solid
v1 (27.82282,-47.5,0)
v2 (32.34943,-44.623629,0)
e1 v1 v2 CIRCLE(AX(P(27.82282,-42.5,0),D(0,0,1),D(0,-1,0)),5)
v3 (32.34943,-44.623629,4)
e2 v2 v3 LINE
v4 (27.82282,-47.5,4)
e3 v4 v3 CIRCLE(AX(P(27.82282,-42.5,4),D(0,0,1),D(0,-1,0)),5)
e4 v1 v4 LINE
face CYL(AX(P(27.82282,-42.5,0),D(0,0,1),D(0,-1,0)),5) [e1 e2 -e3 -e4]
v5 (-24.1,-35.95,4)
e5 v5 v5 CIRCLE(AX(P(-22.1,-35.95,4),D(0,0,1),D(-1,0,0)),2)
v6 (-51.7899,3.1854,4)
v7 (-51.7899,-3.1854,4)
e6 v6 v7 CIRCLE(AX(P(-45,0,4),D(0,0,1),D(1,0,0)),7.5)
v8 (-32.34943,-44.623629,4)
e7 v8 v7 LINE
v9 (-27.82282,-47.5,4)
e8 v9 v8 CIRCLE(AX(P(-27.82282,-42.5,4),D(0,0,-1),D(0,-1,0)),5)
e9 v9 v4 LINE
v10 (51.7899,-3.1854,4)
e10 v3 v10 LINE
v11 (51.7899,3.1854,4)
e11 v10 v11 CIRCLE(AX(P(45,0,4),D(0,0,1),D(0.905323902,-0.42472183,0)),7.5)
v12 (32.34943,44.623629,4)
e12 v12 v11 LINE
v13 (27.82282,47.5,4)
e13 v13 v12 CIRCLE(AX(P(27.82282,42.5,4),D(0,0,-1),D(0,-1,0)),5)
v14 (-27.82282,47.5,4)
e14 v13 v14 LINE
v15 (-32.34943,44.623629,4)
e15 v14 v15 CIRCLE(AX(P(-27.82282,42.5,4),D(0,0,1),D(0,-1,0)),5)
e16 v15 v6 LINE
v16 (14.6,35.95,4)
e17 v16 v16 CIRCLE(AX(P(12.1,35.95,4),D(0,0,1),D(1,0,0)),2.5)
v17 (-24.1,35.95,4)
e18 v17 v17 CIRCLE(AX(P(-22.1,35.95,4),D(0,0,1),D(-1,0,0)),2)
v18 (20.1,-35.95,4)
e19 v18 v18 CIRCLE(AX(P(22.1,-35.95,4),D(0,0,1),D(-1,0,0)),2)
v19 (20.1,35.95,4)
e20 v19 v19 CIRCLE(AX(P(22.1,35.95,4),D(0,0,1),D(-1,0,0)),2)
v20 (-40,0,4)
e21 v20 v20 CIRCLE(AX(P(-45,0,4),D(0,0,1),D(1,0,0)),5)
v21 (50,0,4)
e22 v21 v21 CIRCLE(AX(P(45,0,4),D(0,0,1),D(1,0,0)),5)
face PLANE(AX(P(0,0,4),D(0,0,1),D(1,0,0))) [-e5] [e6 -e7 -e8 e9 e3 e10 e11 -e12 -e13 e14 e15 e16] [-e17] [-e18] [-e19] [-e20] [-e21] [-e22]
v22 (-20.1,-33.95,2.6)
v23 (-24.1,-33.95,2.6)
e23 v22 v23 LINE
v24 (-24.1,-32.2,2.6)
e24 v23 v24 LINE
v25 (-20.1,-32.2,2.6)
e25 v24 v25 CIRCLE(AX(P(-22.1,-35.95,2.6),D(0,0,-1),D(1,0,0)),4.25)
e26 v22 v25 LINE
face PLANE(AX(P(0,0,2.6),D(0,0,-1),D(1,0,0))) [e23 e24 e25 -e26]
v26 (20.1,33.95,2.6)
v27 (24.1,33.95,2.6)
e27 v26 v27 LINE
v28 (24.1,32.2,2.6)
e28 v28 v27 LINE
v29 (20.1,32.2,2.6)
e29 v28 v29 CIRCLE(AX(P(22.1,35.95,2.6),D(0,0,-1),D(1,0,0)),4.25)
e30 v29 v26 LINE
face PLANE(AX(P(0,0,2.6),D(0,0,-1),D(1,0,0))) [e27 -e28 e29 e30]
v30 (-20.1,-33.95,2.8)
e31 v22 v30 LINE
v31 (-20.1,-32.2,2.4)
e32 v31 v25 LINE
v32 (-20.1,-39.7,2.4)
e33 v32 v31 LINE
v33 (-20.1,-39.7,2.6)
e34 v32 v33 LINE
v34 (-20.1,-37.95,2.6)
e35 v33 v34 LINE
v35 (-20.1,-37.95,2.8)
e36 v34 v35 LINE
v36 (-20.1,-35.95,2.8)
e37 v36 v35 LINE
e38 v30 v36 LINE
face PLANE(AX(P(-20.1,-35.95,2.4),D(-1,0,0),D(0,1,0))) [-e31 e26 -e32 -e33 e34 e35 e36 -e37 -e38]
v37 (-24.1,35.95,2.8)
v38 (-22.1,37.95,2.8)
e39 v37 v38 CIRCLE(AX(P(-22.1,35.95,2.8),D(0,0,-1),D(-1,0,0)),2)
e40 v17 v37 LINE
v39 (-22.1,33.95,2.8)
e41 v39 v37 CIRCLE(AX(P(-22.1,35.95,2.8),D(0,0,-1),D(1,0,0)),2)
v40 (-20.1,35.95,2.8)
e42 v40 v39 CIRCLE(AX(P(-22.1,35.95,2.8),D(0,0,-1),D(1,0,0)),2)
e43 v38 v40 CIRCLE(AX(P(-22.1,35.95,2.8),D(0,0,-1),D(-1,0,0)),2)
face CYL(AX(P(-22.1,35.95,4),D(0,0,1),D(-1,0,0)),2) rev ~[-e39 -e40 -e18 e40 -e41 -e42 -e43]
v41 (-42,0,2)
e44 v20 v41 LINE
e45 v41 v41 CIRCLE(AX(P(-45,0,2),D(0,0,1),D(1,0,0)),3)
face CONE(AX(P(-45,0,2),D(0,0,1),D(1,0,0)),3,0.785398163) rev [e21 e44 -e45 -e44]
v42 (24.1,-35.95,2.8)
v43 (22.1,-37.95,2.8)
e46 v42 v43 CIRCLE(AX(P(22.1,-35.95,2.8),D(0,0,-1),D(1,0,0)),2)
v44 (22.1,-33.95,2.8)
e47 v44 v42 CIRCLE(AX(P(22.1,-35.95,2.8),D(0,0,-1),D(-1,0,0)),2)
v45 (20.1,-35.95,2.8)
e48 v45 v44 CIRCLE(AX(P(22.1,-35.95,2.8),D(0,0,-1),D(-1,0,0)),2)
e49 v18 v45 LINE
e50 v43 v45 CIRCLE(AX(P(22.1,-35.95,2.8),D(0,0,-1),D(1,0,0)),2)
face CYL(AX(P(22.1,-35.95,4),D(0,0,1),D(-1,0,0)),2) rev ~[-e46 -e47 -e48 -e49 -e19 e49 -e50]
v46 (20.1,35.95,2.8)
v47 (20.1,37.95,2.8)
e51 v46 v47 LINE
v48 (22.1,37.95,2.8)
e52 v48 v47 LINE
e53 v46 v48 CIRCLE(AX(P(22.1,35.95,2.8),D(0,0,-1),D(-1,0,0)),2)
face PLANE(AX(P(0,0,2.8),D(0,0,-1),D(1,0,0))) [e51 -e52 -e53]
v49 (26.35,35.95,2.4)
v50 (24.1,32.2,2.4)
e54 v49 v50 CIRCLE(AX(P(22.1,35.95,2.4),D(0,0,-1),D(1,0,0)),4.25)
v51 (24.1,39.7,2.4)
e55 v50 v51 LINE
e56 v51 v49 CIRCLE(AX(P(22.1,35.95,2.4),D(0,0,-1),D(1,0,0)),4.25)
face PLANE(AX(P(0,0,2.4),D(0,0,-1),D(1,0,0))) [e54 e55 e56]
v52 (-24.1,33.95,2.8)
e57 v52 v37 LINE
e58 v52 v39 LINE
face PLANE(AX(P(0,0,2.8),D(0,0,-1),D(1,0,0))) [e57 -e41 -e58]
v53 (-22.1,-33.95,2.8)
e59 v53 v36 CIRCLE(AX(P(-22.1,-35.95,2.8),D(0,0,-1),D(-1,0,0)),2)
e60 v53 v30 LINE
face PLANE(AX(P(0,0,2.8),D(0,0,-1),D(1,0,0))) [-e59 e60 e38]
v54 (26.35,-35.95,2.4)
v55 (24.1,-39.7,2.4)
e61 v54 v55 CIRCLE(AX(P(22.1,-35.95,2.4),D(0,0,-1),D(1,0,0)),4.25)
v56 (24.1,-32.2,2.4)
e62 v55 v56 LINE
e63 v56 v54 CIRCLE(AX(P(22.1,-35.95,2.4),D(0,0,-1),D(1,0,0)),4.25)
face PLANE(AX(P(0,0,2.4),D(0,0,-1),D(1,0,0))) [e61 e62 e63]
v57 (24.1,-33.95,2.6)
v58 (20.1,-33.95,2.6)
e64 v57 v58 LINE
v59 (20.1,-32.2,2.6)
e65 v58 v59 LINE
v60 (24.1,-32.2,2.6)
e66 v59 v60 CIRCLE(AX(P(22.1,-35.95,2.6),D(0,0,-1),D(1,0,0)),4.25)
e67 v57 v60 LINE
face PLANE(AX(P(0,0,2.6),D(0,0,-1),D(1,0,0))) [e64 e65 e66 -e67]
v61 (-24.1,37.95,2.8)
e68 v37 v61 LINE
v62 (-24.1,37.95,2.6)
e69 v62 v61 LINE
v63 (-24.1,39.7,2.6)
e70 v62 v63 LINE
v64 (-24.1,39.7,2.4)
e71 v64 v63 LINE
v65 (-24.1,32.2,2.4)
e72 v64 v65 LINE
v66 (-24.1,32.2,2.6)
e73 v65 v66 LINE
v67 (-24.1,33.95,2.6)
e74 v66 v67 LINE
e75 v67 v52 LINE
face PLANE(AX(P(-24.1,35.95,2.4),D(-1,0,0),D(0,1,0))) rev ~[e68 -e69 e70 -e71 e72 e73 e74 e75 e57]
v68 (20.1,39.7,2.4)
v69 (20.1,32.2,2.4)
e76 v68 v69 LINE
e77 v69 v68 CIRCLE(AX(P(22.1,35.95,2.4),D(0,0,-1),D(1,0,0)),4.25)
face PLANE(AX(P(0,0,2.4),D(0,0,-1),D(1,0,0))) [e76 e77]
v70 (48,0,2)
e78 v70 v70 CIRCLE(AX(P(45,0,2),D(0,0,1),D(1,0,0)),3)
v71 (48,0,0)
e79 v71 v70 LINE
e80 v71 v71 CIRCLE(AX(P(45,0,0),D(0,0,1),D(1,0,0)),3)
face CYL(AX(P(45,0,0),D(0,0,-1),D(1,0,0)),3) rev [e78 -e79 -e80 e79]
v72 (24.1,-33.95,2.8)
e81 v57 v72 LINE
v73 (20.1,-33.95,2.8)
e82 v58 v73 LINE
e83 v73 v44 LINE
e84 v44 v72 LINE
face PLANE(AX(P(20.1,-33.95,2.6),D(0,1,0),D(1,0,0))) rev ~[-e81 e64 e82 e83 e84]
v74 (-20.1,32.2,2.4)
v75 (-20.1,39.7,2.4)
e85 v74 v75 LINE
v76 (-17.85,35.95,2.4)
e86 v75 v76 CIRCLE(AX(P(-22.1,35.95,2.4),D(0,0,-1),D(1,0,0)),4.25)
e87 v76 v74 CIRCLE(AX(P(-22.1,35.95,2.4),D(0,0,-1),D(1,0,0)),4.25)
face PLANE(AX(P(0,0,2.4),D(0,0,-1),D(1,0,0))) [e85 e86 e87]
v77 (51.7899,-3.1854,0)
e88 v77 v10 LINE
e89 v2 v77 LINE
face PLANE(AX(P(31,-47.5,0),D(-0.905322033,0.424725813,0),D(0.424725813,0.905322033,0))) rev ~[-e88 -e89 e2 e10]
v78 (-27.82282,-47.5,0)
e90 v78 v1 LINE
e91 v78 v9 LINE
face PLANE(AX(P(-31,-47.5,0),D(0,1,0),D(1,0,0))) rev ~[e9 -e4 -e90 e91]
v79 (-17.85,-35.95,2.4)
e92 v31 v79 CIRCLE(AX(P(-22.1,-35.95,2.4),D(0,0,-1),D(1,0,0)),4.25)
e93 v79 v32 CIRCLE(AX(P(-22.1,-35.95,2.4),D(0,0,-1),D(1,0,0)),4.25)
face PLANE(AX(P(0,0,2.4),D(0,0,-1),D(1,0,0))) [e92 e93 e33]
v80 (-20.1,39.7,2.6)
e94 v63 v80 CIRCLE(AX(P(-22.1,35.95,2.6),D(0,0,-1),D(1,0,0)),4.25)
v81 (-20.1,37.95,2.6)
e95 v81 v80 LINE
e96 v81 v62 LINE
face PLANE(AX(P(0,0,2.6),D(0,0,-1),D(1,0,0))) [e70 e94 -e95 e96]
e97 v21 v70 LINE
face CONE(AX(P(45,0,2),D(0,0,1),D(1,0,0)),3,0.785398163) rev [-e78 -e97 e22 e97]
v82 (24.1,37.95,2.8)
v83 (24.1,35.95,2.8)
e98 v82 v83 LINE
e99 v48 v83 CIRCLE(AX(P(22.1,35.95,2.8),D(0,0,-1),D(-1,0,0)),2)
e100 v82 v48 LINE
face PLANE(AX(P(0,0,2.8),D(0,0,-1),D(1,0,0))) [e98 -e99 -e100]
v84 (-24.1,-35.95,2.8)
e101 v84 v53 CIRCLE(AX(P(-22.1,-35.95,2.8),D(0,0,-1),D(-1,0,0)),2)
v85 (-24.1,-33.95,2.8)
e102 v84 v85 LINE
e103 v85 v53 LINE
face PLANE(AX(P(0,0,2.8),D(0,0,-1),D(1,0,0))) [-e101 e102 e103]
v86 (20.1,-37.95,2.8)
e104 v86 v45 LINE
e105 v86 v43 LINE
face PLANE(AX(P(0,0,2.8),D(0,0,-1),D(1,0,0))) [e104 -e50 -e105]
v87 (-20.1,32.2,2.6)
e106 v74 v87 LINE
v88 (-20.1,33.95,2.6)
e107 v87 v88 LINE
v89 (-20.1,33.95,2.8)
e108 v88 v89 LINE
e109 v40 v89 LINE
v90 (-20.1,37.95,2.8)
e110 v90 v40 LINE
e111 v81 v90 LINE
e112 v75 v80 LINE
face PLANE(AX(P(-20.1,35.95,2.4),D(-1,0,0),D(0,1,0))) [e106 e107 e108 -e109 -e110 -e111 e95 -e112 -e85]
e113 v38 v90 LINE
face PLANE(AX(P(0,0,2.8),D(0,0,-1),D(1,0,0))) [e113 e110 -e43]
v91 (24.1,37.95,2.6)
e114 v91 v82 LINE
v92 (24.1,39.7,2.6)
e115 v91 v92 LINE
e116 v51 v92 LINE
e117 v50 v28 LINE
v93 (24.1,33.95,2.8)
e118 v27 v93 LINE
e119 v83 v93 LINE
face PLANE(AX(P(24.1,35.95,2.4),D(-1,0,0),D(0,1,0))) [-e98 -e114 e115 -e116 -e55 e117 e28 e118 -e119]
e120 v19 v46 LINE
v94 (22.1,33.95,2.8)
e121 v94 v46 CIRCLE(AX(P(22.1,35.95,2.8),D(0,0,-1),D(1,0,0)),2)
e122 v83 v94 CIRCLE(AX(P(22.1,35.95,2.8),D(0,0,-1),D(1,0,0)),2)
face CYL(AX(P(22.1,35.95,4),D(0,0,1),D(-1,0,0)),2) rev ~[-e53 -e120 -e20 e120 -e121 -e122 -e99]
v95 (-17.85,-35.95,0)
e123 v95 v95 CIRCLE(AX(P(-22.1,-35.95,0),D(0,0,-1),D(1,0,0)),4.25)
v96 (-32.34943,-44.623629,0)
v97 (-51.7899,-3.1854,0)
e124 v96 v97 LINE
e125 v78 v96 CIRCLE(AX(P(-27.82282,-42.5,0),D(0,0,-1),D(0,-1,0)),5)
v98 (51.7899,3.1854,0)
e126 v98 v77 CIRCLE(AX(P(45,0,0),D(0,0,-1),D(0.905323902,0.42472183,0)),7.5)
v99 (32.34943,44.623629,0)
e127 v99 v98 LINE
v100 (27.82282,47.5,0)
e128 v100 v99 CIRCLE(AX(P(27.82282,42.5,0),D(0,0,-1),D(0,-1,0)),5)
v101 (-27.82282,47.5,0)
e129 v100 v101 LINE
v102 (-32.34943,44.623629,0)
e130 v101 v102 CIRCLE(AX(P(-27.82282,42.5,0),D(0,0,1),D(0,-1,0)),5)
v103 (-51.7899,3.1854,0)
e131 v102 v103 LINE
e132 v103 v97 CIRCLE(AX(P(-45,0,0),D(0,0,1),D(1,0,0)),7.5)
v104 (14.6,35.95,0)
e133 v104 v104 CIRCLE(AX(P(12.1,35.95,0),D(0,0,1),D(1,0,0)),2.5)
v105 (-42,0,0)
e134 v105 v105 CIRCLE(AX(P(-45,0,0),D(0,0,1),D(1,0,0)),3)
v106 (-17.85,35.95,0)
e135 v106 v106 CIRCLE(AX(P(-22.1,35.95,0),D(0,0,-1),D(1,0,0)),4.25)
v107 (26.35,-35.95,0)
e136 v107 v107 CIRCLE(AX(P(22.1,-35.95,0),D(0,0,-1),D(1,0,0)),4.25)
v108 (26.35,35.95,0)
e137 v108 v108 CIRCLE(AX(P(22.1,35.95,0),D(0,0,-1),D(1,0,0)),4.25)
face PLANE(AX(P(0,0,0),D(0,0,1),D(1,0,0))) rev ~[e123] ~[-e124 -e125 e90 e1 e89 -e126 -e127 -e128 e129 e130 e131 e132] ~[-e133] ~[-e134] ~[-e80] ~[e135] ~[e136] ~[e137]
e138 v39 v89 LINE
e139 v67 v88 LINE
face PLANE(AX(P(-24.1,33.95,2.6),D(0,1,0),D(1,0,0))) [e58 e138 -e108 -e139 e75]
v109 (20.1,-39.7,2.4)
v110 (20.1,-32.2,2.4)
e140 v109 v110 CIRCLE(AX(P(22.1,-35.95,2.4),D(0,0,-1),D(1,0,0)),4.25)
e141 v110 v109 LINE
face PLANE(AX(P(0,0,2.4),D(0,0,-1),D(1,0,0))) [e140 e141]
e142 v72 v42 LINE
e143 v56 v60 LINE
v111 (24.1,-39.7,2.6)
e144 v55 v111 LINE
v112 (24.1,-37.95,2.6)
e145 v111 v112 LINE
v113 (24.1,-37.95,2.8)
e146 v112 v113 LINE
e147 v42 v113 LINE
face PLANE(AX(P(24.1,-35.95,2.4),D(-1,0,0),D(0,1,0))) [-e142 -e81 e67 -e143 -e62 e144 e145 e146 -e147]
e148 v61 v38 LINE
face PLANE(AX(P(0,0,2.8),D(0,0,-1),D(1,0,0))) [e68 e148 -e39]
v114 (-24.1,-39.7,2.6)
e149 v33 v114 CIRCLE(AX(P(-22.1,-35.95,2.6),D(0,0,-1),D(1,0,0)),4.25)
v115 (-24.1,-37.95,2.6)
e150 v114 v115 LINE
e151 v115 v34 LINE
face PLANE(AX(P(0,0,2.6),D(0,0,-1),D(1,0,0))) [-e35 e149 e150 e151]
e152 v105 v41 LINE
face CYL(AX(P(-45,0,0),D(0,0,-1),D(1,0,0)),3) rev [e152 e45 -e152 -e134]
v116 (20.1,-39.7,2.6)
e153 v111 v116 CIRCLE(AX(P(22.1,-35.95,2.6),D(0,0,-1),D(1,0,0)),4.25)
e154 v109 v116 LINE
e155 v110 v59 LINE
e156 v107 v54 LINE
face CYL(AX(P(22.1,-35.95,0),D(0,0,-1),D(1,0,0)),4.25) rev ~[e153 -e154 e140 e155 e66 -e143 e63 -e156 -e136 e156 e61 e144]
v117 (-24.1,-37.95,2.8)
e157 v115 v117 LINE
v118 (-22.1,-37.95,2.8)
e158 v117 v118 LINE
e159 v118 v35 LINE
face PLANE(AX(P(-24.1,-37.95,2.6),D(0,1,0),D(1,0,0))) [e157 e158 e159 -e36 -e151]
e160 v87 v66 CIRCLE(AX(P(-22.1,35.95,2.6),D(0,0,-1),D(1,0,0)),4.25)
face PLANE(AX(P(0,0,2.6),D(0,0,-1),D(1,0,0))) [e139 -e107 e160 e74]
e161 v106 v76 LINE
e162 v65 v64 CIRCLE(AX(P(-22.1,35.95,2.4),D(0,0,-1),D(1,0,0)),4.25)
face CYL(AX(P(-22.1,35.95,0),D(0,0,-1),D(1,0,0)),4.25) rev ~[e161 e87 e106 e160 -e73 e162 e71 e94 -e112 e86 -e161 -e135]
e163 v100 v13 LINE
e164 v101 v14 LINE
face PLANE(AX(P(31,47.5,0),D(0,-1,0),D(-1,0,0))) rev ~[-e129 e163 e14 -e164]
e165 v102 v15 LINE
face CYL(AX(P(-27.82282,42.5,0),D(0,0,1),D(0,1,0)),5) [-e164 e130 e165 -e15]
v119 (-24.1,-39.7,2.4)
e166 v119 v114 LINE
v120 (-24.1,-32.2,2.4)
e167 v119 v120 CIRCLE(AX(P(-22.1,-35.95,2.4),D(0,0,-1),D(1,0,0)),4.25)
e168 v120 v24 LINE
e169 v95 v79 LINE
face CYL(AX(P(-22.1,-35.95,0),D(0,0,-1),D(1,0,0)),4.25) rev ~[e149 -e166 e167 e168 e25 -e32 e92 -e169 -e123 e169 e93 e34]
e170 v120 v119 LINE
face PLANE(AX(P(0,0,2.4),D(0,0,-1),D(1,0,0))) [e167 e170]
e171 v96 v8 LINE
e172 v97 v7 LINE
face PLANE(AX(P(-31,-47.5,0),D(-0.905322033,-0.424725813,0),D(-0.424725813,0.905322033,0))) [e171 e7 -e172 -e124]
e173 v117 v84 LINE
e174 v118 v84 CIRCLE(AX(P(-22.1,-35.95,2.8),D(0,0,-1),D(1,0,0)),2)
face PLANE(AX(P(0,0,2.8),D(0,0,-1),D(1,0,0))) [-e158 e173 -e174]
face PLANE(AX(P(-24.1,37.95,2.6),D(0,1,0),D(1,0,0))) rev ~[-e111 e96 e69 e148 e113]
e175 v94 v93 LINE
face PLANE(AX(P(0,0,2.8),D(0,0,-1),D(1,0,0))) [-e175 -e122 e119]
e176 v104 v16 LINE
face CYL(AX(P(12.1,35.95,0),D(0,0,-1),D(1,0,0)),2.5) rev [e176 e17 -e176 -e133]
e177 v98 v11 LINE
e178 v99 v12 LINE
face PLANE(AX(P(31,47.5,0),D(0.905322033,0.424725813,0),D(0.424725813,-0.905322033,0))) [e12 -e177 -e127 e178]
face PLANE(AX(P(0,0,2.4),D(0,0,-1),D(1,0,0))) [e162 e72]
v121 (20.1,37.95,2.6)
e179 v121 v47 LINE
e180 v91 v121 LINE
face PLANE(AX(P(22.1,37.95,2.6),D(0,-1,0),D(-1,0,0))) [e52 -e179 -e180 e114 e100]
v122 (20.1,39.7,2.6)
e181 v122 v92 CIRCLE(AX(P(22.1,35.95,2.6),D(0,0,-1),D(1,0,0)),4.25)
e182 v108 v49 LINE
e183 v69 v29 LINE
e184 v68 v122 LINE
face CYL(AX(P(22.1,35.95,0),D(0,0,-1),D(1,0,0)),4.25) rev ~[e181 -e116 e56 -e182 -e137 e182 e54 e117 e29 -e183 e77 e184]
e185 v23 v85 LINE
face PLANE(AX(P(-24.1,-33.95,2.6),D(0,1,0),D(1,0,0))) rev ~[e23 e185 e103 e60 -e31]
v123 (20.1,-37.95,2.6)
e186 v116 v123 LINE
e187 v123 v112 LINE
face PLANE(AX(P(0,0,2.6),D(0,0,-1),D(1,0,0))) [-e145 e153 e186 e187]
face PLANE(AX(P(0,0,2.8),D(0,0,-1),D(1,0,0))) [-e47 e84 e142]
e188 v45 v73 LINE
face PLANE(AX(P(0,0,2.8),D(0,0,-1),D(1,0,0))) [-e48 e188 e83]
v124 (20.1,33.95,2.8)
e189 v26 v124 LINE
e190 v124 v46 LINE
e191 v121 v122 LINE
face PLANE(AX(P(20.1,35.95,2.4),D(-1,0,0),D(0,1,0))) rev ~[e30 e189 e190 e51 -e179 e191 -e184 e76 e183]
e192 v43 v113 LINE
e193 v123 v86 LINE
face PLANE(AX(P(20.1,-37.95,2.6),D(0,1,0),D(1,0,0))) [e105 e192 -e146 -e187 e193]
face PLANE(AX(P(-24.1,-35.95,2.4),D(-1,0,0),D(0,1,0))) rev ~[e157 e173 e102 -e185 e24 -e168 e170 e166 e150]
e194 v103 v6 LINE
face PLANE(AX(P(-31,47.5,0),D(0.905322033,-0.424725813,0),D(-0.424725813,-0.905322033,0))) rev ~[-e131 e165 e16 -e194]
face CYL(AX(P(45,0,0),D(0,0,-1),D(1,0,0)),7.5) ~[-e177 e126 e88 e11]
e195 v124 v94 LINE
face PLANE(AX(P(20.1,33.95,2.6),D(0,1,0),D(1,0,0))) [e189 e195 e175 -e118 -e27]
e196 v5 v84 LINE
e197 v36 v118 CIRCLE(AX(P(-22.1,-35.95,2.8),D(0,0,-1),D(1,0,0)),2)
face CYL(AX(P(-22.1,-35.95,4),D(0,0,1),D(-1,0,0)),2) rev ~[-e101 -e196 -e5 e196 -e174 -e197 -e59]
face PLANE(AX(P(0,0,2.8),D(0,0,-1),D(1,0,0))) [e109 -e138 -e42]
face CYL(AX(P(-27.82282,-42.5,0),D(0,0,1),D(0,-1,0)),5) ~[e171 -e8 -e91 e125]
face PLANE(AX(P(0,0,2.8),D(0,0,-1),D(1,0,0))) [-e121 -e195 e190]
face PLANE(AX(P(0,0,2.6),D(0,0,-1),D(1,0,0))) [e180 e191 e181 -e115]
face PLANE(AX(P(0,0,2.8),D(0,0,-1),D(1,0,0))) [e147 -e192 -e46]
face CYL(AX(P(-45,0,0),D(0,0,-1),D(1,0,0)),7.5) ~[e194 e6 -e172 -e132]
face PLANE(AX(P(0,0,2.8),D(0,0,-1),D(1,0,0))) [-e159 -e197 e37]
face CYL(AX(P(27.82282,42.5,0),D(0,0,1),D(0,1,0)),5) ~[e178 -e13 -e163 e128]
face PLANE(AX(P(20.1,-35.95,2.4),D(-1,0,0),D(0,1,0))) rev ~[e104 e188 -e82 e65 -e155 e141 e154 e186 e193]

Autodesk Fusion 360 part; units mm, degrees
sketch "Sketch1" plane through (0, 0, 0) normal (0, 0, 1) x (1, 0, 0)
  line L0 (22.1, 35.95) -> (-22.1, 35.95) construction
  line L1 (-22.1, 35.95) -> (-22.1, -35.95) construction
  line L2 (-22.1, -35.95) -> (22.1, -35.95) construction
  line L3 (22.1, -35.95) -> (22.1, 35.95) construction
  line L4 (22.1, 35.95) -> (-22.1, -35.95) construction
  line L5 (-22.1, 35.95) -> (22.1, -35.95) construction
  line L6 (23.8, 37.65) -> (-23.8, 37.65) construction
  line L7 (-23.8, 37.65) -> (-23.8, -37.65) construction
  line L8 (-23.8, -37.65) -> (23.8, -37.65) construction
  line L9 (23.8, -37.65) -> (23.8, 37.65) construction
  line L10 (23.8, 37.65) -> (-23.8, -37.65) construction
  line L11 (-23.8, 37.65) -> (23.8, -37.65) construction
  circle A0 centre (-22.1, 35.95) radius 1.7
  circle A1 centre (22.1, 35.95) radius 1.7
  circle A2 centre (-22.1, -35.95) radius 1.7
  circle A3 centre (22.1, -35.95) radius 1.7
  line L12 (-23.8, -34.25) -> (23.8, -34.25) construction
  line L13 (-20.4, -37.65) -> (-20.4, 37.65) construction
  line L14 (-23.8, 34.25) -> (23.8, 34.25) construction
  line L15 (20.4, 37.65) -> (20.4, -37.65) construction
  line L16 (31, 47.5) -> (-31, 47.5)
  line L17 (-31, 47.5) -> (-31, -47.5)
  line L18 (-31, -47.5) -> (31, -47.5)
  line L19 (31, -47.5) -> (31, 47.5)
  line L20 (31, 47.5) -> (-31, -47.5) construction
  line L21 (-31, 47.5) -> (31, -47.5) construction
  circle A4 centre (-45, 0) radius 3
  circle A5 centre (45, 0) radius 3
  circle A6 centre (-45, 0) radius 7.5
  circle A7 centre (45, 0) radius 7.5
  line L22 (-31, 47.5) -> (-51.7899, 3.1854)
  line L23 (-31, -47.5) -> (-51.7899, -3.1854)
  line L24 (31, -47.5) -> (51.7899, -3.1854)
  line L25 (31, 47.5) -> (51.7899, 3.1854)
  line L26 (45, 0) -> (0, 0) construction
  line L27 (0, 0) -> (-45, 0) construction
  circle A8 centre (12.1, 35.95) radius 2.5
  dimension "d1" = 75.3
  dimension "d2" = 68.5
  dimension "d3" = 40.8
  dimension "d4" = 47.6
  dimension "d5" = 95
  dimension "d6" = 62
  dimension "d7" = 6
  dimension "d8" = 6
  dimension "d9" = 15
  dimension "d10" = 15
  dimension "d11" = 45
  dimension "d12" = 45
  dimension "d13" = 10
  dimension "d14" = 5
extrude "Extrude1" add sketch "Sketch1" along normal blind 4
fillet "Fillet1" radius 5 4 edges at (31, 47.5, 2) (-31, 47.5, 2) (31, -47.5, 2) (-31, -47.5, 2)
sketch "Sketch2" plane through (0, 0, 0) normal (0, 0, -1) x (1, 0, 0)
  circle A0 centre (45, 0) radius 3
  circle A1 centre (-22.1, 35.95) radius 1.7
  circle A2 centre (22.1, 35.95) radius 1.7
  circle A3 centre (-22.1, -35.95) radius 1.7
  circle A4 centre (-45, 0) radius 3
  circle A5 centre (22.1, -35.95) radius 1.7
  circle A6 centre (12.1, -35.95) radius 2.5
  arc A7 (-27.8228, 47.5) -> (-32.3494, 44.6236) centre (-27.8228, 42.5) ccw
  line L0 (-32.3494, 44.6236) -> (-51.7899, 3.1854)
  arc A8 (-51.7899, 3.1854) -> (-51.7899, -3.1854) centre (-45, 0) ccw
  line L1 (-51.7899, -3.1854) -> (-32.3494, -44.6236)
  arc A9 (-32.3494, -44.6236) -> (-27.8228, -47.5) centre (-27.8228, -42.5) ccw
  line L2 (-27.8228, -47.5) -> (27.8228, -47.5)
  arc A10 (27.8228, -47.5) -> (32.3494, -44.6236) centre (27.8228, -42.5) ccw
  line L3 (32.3494, -44.6236) -> (51.7899, -3.1854)
  arc A11 (51.7899, -3.1854) -> (51.7899, 3.1854) centre (45, 0) ccw
  line L4 (51.7899, 3.1854) -> (32.3494, 44.6236)
  arc A12 (32.3494, 44.6236) -> (27.8228, 47.5) centre (27.8228, 42.5) ccw
  line L5 (27.8228, 47.5) -> (-27.8228, 47.5)
  circle A13 centre (22.1, -35.95) radius 4.25
  circle A14 centre (-22.1, -35.95) radius 4.25
  circle A15 centre (-22.1, 35.95) radius 4.25
  circle A16 centre (22.1, 35.95) radius 4.25
  dimension "d19" = 8.5
  dimension "d20" = 8.5
  dimension "d21" = 8.5
  dimension "d22" = 8.5
extrude "Extrude2" cut sketch "Sketch2" against normal blind 2.4 contours A13 | A14 | A15 | A16
sketch "Sketch3" plane through (0, 0, 4) normal (0, 0, 1) x (-1, 0, 0)
  arc A0 (32.3494, 44.6236) -> (27.8228, 47.5) centre (27.8228, 42.5) ccw
  line L0 (27.8228, 47.5) -> (-27.8228, 47.5)
  arc A1 (-27.8228, 47.5) -> (-32.3494, 44.6236) centre (-27.8228, 42.5) ccw
  line L1 (-32.3494, 44.6236) -> (-51.7899, 3.1854)
  arc A2 (-51.7899, 3.1854) -> (-51.7899, -3.1854) centre (-45, 0) ccw
  line L2 (-51.7899, -3.1854) -> (-32.3494, -44.6236)
  arc A3 (-32.3494, -44.6236) -> (-27.8228, -47.5) centre (-27.8228, -42.5) ccw
  line L3 (-27.8228, -47.5) -> (27.8228, -47.5)
  arc A4 (27.8228, -47.5) -> (32.3494, -44.6236) centre (27.8228, -42.5) ccw
  line L4 (32.3494, -44.6236) -> (51.7899, -3.1854)
  arc A5 (51.7899, -3.1854) -> (51.7899, 3.1854) centre (45, 0) ccw
  line L5 (51.7899, 3.1854) -> (32.3494, 44.6236)
  circle A6 centre (-45, 0) radius 3
  circle A7 centre (22.1, 35.95) radius 1.7
  circle A8 centre (-22.1, 35.95) radius 1.7
  circle A9 centre (22.1, -35.95) radius 1.7
  circle A10 centre (45, 0) radius 3
  circle A11 centre (-22.1, -35.95) radius 1.7
  circle A12 centre (-12.1, -35.95) radius 2.5
  circle A13 centre (22.1, -35.95) radius 2
  circle A14 centre (-22.1, -35.95) radius 2
  circle A15 centre (-22.1, 35.95) radius 2
  circle A16 centre (22.1, 35.95) radius 2
  dimension "d25" = 4
  dimension "d26" = 4
  dimension "d27" = 4
  dimension "d28" = 4
extrude "Extrude3" cut sketch "Sketch3" against normal up to surface (1.6 mm away) contours A13 | A14 | A15 | A16
sketch "Sketch4" plane through (0, 0, 2.4) normal (0, 0, -1) x (1, 0, 0)
  circle A0 centre (-22.1, -35.95) radius 2
  circle A1 centre (-22.1, -35.95) radius 4.25
  circle A2 centre (-22.1, 35.95) radius 2
  circle A3 centre (-22.1, 35.95) radius 4.25
  circle A4 centre (22.1, 35.95) radius 2
  circle A5 centre (22.1, 35.95) radius 4.25
  circle A6 centre (22.1, -35.95) radius 2
  circle A7 centre (22.1, -35.95) radius 4.25
  line L0 (-24.1, 39.7) -> (-24.1, 32.2)
  line L1 (-20.1, 39.7) -> (-20.1, 32.2)
  line L2 (20.1, 39.7) -> (20.1, 32.2)
  line L3 (24.1, 39.7) -> (24.1, 32.2)
  line L4 (24.1, -32.2) -> (24.1, -39.7)
  line L5 (20.1, -32.2) -> (20.1, -39.7)
  line L6 (-20.1, -32.2) -> (-20.1, -39.7)
  line L7 (-24.1, -32.2) -> (-24.1, -39.7)
extrude "Extrude4" cut sketch "Sketch4" against normal blind 0.2 contours A0 A1 L6 L7 | A0 A1 L6 L7 | A2 A3 L0 L1 | A2 A3 L0 L1 | A4 A5 L2 L3 | A4 A5 L2 L3 | A6 A7 L4 L5 | A6 A7 L4 L5
sketch "Sketch5" plane through (0, 0, 2.6) normal (0, 0, -1) x (1, 0, 0)
  line L0 (-24.1, 39.7) -> (-24.1, 35.95)
  arc A0 (-20.1, 35.95) -> (-24.1, 35.95) centre (-22.1, 35.95) ccw
  line L1 (-20.1, 35.95) -> (-20.1, 39.7)
  arc A1 (-20.1, 39.7) -> (-24.1, 39.7) centre (-22.1, 35.95) ccw
  arc A2 (20.1, 32.2) -> (24.1, 32.2) centre (22.1, 35.95) ccw
  line L2 (24.1, 32.2) -> (24.1, 35.95)
  arc A3 (20.1, 35.95) -> (24.1, 35.95) centre (22.1, 35.95) ccw
  line L3 (20.1, 35.95) -> (20.1, 32.2)
  line L4 (20.1, 39.7) -> (20.1, 35.95)
  arc A4 (24.1, 35.95) -> (20.1, 35.95) centre (22.1, 35.95) ccw
  line L5 (24.1, 35.95) -> (24.1, 39.7)
  arc A5 (24.1, 39.7) -> (20.1, 39.7) centre (22.1, 35.95) ccw
  arc A6 (-24.1, 32.2) -> (-20.1, 32.2) centre (-22.1, 35.95) ccw
  line L6 (-20.1, 32.2) -> (-20.1, 35.95)
  arc A7 (-24.1, 35.95) -> (-20.1, 35.95) centre (-22.1, 35.95) ccw
  line L7 (-24.1, 35.95) -> (-24.1, 32.2)
  line L8 (20.1, -35.95) -> (20.1, -39.7)
  arc A8 (20.1, -39.7) -> (24.1, -39.7) centre (22.1, -35.95) ccw
  line L9 (24.1, -39.7) -> (24.1, -35.95)
  arc A9 (20.1, -35.95) -> (24.1, -35.95) centre (22.1, -35.95) ccw
  arc A10 (24.1, -32.2) -> (20.1, -32.2) centre (22.1, -35.95) ccw
  line L10 (20.1, -32.2) -> (20.1, -35.95)
  arc A11 (24.1, -35.95) -> (20.1, -35.95) centre (22.1, -35.95) ccw
  line L11 (24.1, -35.95) -> (24.1, -32.2)
  line L12 (-24.1, -35.95) -> (-24.1, -39.7)
  arc A12 (-24.1, -39.7) -> (-20.1, -39.7) centre (-22.1, -35.95) ccw
  line L13 (-20.1, -39.7) -> (-20.1, -35.95)
  arc A13 (-24.1, -35.95) -> (-20.1, -35.95) centre (-22.1, -35.95) ccw
  arc A14 (-20.1, -32.2) -> (-24.1, -32.2) centre (-22.1, -35.95) ccw
  line L14 (-24.1, -32.2) -> (-24.1, -35.95)
  arc A15 (-20.1, -35.95) -> (-24.1, -35.95) centre (-22.1, -35.95) ccw
  line L15 (-20.1, -35.95) -> (-20.1, -32.2)
  line L16 (-24.1, 37.95) -> (-20.1, 37.95)
  line L17 (-24.1, 33.95) -> (-20.1, 33.95)
  line L18 (20.1, 37.95) -> (24.1, 37.95)
  line L19 (20.1, 33.95) -> (24.1, 33.95)
  line L20 (20.1, -33.95) -> (24.1, -33.95)
  line L21 (24.1, -37.95) -> (20.1, -37.95)
  line L22 (-24.1, -33.95) -> (-20.1, -33.95)
  line L23 (-24.1, -37.95) -> (-20.1, -37.95)
extrude "Extrude5" cut sketch "Sketch5" against normal blind 0.2 contours L0 A0 L16 | A7 L7 L17 | A0 L1 L16 | L6 A7 L17 | A3 L3 L19 | L2 A3 L19 | L4 A4 L18 | A4 L5 L18 | L8 A9 L21 | L10 A11 L20 | L9 A9 L21 | A11 L11 L20 | L12 A13 L23 | L14 A15 L22 | L13 A13 L23 | A15 L15 L22
chamfer "Chamfer1" distance 2 angle 45 2 edges at (-47.797, 1.0848, 4) (42.203, 1.0848, 4)
